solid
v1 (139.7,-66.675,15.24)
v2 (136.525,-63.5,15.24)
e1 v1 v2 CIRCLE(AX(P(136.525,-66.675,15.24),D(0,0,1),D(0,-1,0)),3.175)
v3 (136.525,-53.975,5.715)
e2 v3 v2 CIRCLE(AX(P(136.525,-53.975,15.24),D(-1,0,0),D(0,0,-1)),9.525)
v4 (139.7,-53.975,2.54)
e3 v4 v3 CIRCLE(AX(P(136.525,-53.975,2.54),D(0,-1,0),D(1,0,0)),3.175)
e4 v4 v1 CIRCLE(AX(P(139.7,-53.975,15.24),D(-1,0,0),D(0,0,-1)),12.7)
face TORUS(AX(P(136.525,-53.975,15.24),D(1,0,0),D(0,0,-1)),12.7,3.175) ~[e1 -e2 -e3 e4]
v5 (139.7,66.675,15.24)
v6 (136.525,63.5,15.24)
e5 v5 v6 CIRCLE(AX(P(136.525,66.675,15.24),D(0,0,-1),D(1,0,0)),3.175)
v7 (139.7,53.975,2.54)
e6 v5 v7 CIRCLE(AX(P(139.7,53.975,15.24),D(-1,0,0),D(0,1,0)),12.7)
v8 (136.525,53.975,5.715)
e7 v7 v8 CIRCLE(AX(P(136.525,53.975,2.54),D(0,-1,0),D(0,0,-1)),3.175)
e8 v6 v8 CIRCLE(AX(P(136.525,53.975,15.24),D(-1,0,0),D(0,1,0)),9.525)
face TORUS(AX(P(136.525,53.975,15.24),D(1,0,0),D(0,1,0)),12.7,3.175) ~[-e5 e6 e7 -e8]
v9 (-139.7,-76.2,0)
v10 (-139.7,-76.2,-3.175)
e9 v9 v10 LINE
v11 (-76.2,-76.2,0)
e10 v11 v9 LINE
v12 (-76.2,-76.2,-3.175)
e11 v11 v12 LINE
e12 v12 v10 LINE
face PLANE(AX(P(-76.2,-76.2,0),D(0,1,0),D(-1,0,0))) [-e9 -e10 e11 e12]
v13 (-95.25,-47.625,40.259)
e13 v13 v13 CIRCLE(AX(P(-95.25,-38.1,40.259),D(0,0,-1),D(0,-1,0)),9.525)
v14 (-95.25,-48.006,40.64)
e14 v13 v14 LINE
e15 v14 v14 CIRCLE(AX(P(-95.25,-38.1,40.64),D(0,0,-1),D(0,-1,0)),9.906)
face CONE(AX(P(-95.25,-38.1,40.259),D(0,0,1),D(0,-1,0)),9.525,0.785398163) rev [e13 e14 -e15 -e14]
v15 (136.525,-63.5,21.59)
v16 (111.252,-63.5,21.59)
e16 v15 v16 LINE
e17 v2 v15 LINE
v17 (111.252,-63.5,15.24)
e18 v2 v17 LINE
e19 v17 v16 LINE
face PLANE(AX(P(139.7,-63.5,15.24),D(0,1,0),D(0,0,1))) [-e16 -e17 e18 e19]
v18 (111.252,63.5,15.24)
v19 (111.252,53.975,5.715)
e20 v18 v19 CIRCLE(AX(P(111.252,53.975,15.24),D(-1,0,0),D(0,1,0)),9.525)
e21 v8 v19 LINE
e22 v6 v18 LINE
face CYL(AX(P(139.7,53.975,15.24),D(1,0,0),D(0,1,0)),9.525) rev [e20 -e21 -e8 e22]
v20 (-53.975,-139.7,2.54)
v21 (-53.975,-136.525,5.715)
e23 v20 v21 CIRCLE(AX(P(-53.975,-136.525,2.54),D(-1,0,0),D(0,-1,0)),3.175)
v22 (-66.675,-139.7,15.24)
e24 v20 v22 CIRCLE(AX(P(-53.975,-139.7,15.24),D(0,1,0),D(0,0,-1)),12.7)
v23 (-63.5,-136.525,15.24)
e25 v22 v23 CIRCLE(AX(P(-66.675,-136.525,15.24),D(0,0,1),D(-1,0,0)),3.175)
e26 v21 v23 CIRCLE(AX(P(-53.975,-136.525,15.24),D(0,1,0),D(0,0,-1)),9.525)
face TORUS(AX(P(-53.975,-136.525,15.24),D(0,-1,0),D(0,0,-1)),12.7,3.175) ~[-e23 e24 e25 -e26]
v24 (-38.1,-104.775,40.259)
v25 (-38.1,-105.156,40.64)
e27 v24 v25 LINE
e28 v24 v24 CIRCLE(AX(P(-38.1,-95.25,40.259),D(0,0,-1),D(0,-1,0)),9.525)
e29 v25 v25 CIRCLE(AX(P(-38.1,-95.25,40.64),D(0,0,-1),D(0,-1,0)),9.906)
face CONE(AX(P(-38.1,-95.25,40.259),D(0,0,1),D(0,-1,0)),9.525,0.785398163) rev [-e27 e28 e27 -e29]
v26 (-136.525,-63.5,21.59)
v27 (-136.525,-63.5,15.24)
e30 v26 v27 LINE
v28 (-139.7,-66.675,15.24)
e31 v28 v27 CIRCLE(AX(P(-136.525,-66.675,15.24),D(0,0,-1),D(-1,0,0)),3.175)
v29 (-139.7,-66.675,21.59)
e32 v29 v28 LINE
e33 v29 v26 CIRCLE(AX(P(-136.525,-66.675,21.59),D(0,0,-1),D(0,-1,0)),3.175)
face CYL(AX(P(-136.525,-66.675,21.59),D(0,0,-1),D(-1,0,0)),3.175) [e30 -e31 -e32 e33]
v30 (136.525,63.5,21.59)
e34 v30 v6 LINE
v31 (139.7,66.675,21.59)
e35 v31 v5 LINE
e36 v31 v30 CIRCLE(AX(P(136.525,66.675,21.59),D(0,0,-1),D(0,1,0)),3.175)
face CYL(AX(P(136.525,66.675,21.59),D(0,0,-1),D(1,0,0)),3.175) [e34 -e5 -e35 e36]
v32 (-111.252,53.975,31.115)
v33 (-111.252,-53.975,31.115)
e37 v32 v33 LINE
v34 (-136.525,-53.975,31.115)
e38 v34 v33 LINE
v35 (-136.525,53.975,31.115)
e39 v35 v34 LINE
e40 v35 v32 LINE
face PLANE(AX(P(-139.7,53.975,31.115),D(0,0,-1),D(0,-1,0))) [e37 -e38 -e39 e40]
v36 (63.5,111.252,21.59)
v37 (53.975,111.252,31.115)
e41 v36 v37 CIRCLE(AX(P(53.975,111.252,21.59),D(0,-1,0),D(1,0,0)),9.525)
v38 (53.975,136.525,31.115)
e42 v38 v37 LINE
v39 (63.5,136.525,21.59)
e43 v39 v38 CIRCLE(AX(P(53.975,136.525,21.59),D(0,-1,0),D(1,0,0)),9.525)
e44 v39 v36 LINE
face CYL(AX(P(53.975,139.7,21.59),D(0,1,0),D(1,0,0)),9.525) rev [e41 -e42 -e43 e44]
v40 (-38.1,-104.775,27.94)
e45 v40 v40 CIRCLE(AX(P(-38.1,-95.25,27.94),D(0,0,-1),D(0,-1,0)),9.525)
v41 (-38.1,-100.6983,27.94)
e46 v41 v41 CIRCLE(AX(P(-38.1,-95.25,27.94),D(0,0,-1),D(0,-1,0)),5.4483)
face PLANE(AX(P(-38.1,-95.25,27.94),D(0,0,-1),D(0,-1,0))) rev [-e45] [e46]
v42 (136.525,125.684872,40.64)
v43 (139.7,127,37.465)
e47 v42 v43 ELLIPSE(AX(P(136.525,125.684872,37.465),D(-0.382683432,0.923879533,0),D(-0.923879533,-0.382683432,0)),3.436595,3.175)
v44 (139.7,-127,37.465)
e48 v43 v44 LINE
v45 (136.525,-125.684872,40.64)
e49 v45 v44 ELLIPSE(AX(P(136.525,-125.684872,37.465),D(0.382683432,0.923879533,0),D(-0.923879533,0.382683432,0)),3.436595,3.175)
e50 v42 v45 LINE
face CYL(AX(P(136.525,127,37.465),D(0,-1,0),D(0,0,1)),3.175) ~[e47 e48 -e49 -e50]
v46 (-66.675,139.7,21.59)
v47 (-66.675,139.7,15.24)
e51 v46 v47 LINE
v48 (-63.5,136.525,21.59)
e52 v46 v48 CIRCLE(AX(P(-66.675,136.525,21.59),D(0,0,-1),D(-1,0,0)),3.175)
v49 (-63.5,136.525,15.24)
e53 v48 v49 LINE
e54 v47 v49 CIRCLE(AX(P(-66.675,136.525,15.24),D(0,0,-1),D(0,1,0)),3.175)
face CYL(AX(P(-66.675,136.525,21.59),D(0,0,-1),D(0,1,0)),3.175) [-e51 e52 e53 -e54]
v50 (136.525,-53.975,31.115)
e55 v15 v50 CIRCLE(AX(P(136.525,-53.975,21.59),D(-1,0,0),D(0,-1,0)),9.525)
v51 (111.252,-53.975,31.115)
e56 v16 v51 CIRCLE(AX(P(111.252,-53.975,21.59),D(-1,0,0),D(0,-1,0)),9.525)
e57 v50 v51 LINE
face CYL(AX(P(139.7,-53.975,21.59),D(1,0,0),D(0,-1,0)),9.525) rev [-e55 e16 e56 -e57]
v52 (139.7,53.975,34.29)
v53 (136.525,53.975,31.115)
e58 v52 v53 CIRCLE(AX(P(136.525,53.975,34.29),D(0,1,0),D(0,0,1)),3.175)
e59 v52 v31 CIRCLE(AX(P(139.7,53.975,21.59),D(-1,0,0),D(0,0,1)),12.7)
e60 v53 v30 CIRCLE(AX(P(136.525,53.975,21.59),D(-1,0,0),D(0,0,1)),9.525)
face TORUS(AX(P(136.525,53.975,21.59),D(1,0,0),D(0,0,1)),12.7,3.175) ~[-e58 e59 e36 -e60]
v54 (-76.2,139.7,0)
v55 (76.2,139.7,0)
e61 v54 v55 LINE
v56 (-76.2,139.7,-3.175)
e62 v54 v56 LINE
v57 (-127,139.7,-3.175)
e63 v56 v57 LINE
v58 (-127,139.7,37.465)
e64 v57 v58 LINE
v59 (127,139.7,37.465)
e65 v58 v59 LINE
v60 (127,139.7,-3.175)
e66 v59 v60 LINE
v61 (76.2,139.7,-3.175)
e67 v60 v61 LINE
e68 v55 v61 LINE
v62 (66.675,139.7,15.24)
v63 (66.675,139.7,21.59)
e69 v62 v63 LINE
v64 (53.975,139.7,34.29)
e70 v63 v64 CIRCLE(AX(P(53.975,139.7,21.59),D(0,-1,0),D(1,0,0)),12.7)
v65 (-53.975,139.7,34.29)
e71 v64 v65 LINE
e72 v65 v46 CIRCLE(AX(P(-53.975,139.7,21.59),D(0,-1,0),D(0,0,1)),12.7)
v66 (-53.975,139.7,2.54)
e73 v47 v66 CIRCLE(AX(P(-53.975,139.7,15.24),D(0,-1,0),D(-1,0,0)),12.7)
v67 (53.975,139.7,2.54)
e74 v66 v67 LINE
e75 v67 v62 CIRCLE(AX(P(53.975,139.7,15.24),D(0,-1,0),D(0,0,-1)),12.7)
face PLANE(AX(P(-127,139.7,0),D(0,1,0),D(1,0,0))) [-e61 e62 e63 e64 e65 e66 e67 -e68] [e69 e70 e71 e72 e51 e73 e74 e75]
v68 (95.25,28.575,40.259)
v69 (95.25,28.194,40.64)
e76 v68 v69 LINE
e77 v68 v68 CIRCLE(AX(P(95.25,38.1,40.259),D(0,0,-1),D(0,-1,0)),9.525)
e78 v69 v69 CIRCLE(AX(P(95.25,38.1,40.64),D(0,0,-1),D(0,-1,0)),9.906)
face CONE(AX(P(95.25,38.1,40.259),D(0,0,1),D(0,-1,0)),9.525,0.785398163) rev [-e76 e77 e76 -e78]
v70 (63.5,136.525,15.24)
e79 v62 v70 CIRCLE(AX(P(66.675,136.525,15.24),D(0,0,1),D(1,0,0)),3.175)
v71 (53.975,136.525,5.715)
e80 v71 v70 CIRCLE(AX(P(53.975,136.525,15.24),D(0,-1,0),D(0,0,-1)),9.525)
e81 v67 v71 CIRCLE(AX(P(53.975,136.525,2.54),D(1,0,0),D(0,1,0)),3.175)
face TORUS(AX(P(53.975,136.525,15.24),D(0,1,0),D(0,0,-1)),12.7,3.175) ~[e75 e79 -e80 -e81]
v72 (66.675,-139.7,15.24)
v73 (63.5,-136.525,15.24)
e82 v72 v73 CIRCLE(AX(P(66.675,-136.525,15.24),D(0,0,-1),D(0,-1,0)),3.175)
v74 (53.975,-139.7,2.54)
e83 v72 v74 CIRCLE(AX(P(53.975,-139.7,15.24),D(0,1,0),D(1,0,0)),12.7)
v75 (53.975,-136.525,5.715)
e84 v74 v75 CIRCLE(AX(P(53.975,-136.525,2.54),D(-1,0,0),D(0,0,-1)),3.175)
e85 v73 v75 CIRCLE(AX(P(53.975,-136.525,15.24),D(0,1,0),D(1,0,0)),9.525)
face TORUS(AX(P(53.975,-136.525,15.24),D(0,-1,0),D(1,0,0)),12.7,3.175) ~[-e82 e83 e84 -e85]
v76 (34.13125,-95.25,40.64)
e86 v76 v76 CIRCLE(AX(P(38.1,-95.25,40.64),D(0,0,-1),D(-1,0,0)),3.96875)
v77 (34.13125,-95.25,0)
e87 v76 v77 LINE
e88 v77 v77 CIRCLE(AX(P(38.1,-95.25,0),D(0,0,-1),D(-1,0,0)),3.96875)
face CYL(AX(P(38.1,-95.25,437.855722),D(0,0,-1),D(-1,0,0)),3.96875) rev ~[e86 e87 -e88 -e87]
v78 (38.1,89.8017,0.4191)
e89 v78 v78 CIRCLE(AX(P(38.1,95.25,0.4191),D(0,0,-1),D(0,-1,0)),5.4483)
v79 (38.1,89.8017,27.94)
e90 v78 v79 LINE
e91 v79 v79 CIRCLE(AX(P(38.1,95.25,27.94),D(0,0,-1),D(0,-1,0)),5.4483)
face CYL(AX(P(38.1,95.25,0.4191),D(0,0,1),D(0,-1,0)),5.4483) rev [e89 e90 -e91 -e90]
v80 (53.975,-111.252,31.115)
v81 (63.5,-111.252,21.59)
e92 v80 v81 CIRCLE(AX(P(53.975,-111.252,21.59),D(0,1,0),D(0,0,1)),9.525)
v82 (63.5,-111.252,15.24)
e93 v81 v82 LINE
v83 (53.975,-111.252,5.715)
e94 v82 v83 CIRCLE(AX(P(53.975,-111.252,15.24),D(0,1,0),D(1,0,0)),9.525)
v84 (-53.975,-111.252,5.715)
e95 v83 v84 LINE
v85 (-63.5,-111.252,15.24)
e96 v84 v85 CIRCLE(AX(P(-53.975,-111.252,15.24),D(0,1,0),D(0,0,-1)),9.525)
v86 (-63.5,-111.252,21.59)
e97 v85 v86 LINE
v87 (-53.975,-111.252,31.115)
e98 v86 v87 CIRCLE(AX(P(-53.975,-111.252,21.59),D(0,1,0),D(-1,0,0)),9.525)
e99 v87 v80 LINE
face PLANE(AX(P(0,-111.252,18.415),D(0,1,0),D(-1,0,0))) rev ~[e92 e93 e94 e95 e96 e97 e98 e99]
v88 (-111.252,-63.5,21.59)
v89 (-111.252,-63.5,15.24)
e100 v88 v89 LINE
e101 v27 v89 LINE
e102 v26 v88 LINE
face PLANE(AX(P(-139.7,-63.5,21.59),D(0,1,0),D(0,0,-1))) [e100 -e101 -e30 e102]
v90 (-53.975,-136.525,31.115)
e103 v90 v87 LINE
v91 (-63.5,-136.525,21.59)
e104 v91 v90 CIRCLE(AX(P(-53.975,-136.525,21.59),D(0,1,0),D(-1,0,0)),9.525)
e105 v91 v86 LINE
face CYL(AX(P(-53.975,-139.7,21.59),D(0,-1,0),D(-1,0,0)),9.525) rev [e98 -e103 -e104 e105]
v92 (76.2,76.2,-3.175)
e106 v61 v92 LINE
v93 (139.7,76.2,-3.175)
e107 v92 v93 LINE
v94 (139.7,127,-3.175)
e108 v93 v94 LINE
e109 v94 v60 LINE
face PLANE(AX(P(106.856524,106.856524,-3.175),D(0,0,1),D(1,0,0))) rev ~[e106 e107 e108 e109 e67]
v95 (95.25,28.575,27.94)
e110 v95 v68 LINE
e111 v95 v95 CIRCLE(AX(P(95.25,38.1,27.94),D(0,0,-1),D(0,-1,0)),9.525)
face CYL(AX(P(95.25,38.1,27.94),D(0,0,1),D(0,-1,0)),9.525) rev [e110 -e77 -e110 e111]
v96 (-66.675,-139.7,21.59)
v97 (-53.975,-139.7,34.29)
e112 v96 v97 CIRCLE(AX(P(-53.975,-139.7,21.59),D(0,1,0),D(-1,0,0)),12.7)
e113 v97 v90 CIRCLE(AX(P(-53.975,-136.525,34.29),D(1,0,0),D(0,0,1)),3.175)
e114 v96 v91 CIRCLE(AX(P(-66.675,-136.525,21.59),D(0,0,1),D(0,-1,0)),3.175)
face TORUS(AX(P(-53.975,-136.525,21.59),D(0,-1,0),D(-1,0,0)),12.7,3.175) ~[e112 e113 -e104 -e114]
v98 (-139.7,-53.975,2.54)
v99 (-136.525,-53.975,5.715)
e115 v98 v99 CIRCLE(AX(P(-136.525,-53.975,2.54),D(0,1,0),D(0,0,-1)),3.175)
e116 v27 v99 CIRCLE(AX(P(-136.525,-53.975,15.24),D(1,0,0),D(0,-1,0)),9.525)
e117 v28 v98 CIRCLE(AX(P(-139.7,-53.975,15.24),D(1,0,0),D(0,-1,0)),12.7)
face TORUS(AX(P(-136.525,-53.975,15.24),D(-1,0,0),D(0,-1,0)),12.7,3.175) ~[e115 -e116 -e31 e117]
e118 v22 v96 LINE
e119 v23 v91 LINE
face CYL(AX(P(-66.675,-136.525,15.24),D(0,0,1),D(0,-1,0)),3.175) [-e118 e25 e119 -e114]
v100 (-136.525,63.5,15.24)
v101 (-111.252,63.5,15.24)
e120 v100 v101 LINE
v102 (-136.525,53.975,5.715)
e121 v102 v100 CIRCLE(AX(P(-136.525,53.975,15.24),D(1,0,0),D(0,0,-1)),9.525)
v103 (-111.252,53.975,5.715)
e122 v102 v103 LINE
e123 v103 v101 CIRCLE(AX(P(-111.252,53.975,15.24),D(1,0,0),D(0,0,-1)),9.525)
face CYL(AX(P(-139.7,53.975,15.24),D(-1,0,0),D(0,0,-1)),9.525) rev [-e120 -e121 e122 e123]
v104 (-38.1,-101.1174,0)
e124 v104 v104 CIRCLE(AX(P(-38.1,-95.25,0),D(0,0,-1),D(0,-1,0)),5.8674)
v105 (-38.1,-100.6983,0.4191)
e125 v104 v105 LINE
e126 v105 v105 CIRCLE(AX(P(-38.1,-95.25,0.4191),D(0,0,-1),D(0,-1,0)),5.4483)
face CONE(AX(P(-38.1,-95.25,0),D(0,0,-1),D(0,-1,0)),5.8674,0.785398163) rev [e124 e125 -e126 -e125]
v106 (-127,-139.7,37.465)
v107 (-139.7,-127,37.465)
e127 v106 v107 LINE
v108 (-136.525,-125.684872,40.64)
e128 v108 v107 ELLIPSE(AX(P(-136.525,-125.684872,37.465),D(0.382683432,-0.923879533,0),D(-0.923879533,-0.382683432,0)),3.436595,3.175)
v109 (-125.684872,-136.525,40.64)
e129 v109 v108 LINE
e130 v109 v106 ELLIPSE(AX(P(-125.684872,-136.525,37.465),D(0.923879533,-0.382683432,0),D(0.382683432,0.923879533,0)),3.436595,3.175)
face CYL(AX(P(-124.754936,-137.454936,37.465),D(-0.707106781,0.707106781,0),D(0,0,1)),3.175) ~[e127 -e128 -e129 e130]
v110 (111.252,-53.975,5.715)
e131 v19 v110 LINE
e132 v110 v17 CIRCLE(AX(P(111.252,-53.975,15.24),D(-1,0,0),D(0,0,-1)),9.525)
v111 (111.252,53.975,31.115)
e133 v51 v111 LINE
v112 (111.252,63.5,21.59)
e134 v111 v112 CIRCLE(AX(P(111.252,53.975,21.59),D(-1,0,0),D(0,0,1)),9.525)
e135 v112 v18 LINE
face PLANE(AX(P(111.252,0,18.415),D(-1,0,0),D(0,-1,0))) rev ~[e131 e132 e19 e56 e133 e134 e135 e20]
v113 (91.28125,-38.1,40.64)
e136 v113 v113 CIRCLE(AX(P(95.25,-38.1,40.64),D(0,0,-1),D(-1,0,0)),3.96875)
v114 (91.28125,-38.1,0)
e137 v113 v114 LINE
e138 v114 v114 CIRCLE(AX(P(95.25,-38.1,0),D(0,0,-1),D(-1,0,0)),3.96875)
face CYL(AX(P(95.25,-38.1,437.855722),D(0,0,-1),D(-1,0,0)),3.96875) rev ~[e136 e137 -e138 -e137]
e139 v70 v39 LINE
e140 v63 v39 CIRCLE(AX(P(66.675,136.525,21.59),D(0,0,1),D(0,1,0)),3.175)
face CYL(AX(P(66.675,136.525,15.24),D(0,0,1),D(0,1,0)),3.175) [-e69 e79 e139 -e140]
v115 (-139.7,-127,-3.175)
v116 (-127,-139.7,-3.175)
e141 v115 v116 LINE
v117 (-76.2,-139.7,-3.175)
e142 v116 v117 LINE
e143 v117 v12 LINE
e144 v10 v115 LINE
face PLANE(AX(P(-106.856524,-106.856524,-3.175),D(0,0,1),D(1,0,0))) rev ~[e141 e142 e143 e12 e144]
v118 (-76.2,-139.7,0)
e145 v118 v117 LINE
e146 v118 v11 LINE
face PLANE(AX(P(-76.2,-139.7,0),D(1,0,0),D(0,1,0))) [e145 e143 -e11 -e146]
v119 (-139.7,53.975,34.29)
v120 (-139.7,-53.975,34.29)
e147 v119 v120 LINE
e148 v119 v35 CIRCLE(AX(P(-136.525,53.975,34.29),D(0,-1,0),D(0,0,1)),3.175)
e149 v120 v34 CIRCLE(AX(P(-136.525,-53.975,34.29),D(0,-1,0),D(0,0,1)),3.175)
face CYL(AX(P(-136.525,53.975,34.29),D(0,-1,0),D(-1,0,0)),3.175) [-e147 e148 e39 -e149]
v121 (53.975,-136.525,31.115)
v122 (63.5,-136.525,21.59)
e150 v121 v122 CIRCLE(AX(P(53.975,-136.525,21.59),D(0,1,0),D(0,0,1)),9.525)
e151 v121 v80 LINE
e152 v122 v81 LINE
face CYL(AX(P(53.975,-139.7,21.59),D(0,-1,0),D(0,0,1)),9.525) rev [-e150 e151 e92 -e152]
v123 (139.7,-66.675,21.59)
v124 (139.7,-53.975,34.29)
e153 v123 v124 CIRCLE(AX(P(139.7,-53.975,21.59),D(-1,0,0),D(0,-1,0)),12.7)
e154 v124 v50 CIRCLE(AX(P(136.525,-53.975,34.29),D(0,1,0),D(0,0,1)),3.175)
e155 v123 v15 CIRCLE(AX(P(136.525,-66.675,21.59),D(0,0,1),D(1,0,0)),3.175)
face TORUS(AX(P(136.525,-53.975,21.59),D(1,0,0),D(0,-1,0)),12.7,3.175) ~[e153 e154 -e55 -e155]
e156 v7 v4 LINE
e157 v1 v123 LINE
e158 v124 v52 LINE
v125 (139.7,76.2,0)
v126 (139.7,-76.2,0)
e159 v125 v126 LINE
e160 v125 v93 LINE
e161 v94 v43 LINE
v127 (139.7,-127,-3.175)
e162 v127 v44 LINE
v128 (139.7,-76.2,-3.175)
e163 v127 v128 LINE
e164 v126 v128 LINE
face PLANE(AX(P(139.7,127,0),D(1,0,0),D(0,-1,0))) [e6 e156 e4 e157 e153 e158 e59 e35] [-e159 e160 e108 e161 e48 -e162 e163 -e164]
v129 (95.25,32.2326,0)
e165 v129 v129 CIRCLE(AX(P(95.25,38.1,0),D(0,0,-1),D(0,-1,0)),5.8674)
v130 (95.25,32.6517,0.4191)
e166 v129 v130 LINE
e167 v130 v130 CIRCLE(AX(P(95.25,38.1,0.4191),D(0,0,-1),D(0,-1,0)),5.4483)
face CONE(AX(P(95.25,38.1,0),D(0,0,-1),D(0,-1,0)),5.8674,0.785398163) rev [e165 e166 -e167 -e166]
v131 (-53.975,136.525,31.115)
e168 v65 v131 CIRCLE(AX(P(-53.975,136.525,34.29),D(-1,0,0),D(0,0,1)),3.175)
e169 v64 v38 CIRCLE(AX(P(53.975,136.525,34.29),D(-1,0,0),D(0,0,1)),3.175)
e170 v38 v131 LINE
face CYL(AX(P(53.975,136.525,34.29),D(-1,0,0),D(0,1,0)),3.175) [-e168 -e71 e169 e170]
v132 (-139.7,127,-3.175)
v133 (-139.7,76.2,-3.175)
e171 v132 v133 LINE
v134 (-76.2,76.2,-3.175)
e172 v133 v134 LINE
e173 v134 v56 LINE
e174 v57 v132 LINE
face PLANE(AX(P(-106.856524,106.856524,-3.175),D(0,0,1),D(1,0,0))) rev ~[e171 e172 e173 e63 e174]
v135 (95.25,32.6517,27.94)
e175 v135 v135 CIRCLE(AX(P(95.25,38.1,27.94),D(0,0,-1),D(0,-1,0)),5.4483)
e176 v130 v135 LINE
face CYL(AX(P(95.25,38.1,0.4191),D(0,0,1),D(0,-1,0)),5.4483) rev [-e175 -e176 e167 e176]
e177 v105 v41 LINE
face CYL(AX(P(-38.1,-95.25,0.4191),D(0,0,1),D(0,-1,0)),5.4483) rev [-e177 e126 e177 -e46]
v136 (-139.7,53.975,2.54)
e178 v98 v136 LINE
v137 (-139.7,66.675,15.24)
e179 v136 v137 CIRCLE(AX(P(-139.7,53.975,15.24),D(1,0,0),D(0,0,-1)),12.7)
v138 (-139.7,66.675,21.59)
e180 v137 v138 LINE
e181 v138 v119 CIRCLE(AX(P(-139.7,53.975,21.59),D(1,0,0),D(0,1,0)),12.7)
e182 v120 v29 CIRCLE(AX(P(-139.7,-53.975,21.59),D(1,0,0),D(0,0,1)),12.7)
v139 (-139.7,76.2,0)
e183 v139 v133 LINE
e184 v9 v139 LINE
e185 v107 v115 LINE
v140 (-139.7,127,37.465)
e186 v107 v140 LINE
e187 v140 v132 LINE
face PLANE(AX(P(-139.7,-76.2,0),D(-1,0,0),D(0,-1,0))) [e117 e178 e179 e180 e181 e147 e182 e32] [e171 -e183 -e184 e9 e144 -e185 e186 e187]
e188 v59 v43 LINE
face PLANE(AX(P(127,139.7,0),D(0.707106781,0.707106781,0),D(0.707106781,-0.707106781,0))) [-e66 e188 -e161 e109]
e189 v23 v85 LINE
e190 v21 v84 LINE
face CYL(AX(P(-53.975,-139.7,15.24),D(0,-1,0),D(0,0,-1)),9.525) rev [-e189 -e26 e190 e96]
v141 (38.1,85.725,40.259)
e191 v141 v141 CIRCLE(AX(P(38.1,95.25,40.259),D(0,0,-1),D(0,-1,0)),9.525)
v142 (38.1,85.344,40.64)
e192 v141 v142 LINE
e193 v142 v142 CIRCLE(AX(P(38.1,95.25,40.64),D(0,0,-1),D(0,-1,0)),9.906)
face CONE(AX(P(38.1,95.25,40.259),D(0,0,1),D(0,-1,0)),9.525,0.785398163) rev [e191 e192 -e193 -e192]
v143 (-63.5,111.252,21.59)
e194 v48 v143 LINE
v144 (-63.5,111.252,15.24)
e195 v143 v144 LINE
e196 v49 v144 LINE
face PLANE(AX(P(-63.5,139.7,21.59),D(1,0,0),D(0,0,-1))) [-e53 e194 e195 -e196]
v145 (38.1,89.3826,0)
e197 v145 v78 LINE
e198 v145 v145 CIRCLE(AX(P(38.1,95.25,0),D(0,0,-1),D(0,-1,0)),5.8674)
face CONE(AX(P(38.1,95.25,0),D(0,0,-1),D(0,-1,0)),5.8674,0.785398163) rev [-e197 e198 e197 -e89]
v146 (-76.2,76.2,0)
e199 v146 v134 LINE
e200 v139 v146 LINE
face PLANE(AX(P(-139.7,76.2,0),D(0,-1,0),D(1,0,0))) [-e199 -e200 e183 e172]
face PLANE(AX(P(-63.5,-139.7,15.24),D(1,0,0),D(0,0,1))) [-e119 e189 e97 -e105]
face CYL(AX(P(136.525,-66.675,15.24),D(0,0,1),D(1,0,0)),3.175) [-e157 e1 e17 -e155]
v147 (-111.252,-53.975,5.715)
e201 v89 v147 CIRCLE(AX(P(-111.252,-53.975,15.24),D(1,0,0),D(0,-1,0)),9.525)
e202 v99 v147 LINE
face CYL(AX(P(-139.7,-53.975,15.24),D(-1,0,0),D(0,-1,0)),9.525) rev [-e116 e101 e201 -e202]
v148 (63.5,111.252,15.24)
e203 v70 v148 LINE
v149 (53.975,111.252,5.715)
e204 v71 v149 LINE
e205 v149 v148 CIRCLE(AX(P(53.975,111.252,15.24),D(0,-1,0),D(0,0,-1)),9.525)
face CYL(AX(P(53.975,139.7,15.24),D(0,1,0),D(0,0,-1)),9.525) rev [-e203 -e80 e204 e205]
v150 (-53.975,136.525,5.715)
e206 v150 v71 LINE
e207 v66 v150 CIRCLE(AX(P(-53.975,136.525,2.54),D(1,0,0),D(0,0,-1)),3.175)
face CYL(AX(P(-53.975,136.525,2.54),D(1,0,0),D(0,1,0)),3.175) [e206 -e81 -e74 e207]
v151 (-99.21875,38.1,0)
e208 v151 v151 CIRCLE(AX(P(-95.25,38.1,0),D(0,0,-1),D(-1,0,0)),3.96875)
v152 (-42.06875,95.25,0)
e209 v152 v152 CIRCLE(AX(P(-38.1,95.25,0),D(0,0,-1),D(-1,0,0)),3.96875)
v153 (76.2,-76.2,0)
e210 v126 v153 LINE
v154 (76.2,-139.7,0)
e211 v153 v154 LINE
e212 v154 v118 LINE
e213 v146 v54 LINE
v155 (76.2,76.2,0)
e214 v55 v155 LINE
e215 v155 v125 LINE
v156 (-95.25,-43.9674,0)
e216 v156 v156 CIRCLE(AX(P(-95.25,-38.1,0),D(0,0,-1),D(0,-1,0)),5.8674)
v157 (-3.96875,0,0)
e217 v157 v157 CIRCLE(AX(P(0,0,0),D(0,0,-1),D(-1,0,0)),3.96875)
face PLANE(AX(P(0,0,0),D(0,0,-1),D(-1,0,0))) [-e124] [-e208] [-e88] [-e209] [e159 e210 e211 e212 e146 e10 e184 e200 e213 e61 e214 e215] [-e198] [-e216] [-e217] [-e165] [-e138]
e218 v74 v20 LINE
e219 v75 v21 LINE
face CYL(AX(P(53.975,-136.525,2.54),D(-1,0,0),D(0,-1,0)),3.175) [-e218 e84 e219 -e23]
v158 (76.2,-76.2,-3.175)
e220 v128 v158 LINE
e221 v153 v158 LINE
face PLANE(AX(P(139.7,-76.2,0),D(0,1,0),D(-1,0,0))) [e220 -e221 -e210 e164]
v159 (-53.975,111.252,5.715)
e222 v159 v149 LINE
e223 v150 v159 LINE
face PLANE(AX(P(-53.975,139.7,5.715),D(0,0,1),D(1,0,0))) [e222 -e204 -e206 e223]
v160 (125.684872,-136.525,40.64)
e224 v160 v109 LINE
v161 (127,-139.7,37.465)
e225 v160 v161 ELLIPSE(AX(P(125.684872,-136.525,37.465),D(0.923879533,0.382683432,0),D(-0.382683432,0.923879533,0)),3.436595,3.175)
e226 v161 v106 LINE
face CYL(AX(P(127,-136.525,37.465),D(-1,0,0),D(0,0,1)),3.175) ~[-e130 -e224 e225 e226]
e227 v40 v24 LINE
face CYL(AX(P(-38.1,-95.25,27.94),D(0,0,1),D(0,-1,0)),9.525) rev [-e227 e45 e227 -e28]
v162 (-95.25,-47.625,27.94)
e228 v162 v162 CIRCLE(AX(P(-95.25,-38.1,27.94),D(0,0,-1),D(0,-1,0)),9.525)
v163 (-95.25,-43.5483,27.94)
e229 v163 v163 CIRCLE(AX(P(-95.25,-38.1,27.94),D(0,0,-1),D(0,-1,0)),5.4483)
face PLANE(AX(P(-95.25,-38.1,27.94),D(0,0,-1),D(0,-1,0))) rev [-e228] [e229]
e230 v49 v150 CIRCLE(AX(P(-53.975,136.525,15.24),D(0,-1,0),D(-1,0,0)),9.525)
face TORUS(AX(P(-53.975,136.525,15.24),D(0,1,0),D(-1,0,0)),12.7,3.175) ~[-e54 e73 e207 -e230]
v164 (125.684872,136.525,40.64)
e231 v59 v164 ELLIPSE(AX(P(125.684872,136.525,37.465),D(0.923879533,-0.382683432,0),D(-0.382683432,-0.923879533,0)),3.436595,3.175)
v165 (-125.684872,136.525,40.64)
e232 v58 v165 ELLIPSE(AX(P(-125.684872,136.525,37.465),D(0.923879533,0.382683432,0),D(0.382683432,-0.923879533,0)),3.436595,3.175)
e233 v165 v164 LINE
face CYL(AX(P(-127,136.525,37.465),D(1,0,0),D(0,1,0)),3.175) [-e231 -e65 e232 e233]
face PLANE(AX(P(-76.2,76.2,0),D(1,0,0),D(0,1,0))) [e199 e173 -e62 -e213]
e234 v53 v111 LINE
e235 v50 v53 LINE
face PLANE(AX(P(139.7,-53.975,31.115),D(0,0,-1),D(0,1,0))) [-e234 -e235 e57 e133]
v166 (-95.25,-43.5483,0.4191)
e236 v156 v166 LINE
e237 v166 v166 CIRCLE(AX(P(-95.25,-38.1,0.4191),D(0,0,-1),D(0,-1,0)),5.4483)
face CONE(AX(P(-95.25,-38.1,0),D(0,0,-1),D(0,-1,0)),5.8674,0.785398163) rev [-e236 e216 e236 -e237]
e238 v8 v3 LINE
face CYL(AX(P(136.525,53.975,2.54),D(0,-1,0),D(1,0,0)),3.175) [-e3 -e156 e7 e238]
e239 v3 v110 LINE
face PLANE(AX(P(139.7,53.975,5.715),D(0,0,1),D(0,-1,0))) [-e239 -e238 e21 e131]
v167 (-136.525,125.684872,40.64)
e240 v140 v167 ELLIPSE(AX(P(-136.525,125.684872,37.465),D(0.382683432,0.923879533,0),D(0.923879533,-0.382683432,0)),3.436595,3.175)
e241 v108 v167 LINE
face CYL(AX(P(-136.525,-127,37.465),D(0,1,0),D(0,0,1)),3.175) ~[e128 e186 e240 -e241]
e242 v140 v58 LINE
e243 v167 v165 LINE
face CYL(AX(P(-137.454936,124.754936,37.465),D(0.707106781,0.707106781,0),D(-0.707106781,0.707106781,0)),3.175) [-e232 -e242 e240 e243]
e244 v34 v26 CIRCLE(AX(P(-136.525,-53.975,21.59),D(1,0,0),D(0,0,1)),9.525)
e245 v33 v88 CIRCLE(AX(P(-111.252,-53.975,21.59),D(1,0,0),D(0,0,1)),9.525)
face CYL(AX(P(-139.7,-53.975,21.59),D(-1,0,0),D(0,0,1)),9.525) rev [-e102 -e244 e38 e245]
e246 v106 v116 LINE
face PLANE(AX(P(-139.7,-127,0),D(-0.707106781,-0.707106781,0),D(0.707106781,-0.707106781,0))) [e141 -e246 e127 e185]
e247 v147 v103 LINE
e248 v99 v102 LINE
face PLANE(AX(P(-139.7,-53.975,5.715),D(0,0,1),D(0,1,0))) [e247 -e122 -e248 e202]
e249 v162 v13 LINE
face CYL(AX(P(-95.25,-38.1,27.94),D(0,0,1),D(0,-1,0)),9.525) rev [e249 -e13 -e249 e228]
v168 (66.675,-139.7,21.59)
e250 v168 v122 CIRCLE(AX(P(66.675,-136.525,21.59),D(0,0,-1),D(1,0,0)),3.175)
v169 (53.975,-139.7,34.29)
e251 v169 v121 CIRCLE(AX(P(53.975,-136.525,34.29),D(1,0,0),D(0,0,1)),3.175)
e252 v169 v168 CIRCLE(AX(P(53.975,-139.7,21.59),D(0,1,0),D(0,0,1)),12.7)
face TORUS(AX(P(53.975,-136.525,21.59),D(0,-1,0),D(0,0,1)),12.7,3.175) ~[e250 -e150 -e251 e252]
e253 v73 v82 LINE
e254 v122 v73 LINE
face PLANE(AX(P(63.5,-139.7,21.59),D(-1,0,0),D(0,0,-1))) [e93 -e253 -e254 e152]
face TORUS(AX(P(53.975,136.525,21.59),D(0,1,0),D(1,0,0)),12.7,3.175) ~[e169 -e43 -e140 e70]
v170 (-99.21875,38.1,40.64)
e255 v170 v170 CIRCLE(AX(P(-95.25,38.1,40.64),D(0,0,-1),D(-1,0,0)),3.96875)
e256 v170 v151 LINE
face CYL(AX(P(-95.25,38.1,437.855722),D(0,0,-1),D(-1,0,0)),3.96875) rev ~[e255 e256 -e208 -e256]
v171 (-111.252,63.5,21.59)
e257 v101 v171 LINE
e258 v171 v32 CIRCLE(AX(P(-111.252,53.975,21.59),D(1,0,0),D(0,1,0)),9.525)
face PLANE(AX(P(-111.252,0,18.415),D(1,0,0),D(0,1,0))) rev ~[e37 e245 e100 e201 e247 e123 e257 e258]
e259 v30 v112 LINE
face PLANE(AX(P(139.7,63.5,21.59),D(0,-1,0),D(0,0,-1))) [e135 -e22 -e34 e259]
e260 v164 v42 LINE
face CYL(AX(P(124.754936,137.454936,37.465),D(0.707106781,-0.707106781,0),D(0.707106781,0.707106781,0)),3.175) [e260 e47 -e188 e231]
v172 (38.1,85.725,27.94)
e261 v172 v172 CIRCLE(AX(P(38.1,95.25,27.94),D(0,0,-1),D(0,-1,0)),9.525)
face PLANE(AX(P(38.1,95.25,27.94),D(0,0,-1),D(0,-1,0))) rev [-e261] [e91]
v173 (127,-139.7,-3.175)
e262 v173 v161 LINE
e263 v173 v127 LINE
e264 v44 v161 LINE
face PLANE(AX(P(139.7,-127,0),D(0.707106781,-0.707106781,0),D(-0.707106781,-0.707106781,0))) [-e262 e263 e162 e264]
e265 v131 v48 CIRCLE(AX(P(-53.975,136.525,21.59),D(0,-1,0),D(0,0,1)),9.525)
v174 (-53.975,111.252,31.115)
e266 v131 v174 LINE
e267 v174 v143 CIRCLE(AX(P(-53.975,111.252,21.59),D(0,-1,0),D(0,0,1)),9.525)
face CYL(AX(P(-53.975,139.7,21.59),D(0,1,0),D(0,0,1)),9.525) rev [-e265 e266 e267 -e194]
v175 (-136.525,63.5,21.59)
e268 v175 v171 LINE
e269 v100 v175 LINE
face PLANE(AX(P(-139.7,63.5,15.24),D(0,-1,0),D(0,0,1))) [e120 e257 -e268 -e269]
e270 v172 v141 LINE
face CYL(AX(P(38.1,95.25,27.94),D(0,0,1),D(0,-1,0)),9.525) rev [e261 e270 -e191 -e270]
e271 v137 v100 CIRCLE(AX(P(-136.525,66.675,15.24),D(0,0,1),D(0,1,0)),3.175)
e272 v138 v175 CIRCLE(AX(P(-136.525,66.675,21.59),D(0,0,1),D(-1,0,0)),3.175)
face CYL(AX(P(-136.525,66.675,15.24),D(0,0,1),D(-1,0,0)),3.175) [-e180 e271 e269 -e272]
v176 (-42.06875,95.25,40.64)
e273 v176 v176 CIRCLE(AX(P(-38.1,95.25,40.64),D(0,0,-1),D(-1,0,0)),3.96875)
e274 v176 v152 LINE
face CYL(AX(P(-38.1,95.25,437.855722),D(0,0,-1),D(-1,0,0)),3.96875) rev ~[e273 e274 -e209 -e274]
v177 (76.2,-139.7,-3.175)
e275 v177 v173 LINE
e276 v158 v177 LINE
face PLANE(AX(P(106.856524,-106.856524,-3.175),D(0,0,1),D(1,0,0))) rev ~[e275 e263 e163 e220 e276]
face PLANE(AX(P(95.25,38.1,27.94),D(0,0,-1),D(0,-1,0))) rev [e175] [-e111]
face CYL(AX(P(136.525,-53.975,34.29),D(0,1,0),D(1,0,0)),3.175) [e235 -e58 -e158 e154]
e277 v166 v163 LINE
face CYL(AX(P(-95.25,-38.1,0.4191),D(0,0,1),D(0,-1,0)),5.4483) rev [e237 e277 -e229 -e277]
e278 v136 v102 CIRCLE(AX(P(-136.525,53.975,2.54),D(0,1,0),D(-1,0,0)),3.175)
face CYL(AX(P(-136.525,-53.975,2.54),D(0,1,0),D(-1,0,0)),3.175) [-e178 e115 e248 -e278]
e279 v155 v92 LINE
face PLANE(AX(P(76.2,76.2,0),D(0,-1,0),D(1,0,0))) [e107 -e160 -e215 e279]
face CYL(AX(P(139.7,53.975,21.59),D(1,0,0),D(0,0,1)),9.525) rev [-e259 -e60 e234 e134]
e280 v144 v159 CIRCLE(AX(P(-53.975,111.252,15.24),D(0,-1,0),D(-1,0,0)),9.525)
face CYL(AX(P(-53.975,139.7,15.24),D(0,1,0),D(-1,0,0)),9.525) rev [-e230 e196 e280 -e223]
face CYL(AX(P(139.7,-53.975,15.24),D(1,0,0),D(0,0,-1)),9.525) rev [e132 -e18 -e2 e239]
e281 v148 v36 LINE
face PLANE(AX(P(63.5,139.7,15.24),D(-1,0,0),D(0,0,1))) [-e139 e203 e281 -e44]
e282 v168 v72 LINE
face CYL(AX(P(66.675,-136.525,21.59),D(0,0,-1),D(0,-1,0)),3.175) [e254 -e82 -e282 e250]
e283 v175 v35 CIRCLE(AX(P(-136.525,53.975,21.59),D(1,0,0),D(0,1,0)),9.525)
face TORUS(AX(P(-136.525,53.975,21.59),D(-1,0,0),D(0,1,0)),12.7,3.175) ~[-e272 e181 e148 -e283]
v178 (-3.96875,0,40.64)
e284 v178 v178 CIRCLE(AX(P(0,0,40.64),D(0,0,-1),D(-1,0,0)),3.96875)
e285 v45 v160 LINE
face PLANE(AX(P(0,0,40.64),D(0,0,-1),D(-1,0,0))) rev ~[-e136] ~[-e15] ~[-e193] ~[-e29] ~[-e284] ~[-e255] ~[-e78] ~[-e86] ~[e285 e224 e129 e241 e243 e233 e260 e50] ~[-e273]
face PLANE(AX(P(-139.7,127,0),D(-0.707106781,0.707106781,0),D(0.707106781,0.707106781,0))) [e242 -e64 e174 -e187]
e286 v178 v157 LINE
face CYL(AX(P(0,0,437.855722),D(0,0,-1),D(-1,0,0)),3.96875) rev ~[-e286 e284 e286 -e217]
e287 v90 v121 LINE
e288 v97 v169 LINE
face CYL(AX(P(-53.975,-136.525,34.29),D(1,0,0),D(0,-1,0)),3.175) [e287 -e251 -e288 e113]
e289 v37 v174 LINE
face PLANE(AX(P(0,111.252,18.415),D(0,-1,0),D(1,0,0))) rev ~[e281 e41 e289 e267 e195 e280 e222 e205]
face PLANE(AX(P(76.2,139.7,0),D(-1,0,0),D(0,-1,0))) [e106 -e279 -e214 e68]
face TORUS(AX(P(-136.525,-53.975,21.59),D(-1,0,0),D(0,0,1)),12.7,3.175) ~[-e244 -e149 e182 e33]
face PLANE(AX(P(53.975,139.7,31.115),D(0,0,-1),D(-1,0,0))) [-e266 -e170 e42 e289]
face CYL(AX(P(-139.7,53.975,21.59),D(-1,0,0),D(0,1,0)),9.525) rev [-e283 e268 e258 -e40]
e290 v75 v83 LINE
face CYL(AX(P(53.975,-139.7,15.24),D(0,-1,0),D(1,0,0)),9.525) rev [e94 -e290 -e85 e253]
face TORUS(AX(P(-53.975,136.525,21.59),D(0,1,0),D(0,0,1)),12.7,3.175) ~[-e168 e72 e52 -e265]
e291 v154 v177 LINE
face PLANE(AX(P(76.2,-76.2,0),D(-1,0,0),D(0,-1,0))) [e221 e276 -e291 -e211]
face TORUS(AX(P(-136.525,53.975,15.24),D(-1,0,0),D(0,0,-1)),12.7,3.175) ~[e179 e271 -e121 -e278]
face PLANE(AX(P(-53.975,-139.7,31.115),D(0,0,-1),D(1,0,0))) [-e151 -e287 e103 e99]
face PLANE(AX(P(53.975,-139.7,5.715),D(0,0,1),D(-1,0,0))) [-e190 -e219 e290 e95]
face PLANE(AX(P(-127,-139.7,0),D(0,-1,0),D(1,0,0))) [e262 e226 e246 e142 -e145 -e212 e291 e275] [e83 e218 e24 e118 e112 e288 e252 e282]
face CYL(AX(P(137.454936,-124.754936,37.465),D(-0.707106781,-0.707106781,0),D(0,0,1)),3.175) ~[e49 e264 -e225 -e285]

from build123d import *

# Parameters (mm, degrees)
BOSS_EXTRUDE1_DEPTH                           = 40.64
F_3_8_16_TAPPED_HOLE1_D                       = 7.9375
CBORE_FOR_3_8_SOCKET_HEAD_CAP_SCREW1_AT_COUNT = 2
CBORE_FOR_3_8_SOCKET_HEAD_CAP_SCREW1_AT_PITCH = 188.585378542
CBORE_FOR_3_8_SOCKET_HEAD_CAP_SCREW1_2_COUNT  = 2
CBORE_FOR_3_8_SOCKET_HEAD_CAP_SCREW1_2_PITCH  = 80.82230509
CBORE_FOR_3_8_SOCKET_HEAD_CAP_SCREW1_3_COUNT  = 2
CBORE_FOR_3_8_SOCKET_HEAD_CAP_SCREW1_3_PITCH  = 205.174779152
FILLET1_R                                     = 3.175
CUT_EXTRUDE2_DEPTH                            = 28.448
FILLET2_R                                     = 3.175
CIRPATTERN1_COUNT                             = 4
FILLET2_OF_CIRPATTERN1_R                      = 3.175
BOSS_EXTRUDE2_DEPTH                           = 3.175


with BuildPart() as part:
    # Sketch1 → Boss-Extrude1 (new body)
    with BuildSketch(Plane.XY):
        Polygon((-127, 139.7), (127, 139.7), (139.7, 127), (139.7, -127), (127, -139.7), (-127, -139.7), (-139.7, -127), (-139.7, 127), align=None)
    extrude(amount=BOSS_EXTRUDE1_DEPTH)

    # 3_8-16 Tapped Hole1 (through all)
    with Locations(Plane.XY.offset(40.64)):
        with Locations((-95.25, 38.1), (-38.1, 95.25), (38.1, -95.25), (95.25, -38.1), (0, 0)):
            Hole(F_3_8_16_TAPPED_HOLE1_D / 2)

    # Sketch7 → CBORE for 3_8 Socket Head Cap Screw1 (revolve, cut)
    with BuildSketch(Plane(origin=(-95.25, -38.1, 40.64), x_dir=(0, -1, 0), z_dir=(1, 0, 0))):
        Polygon((0, 0), (0, 40.64), (5.8674, 40.64), (5.4483, 40.2209), (5.4483, 12.7), (9.525, 12.7), (9.525, 0.381), (9.906, 0), align=None)
    cbore_for_3_8_socket_head_cap_screw1 = revolve(axis=Axis((-95.25, -38.1, 46.99), (0, 0, -1)), mode=Mode.SUBTRACT)

    # CBORE for 3_8 Socket Head Cap Screw1 at: CBORE for 3_8 Socket Head Cap Screw1 ×2
    with Locations(*[Vector(0.707106781, 0.707106781, 0) * (i * CBORE_FOR_3_8_SOCKET_HEAD_CAP_SCREW1_AT_PITCH) for i in range(1, CBORE_FOR_3_8_SOCKET_HEAD_CAP_SCREW1_AT_COUNT)]):
        add(cbore_for_3_8_socket_head_cap_screw1, mode=Mode.SUBTRACT)

    # CBORE for 3_8 Socket Head Cap Screw1 2: CBORE for 3_8 Socket Head Cap Screw1 ×2
    with Locations(*[Vector(0.707106781, -0.707106781, 0) * (i * CBORE_FOR_3_8_SOCKET_HEAD_CAP_SCREW1_2_PITCH) for i in range(1, CBORE_FOR_3_8_SOCKET_HEAD_CAP_SCREW1_2_COUNT)]):
        add(cbore_for_3_8_socket_head_cap_screw1, mode=Mode.SUBTRACT)

    # CBORE for 3_8 Socket Head Cap Screw1 3: CBORE for 3_8 Socket Head Cap Screw1 ×2
    with Locations(*[Vector(0.928476691, 0.371390676, 0) * (i * CBORE_FOR_3_8_SOCKET_HEAD_CAP_SCREW1_3_PITCH) for i in range(1, CBORE_FOR_3_8_SOCKET_HEAD_CAP_SCREW1_3_COUNT)]):
        add(cbore_for_3_8_socket_head_cap_screw1, mode=Mode.SUBTRACT)

    # Fillet1
    fillet1_edges = [part.edges().sort_by_distance(p)[0] for p in [
        (-133.35, -133.35, 40.64),
        (0, -139.7, 40.64),
        (133.35, -133.35, 40.64),
        (139.7, 0, 40.64),
        (133.35, 133.35, 40.64),
        (0, 139.7, 40.64),
        (-133.35, 133.35, 40.64),
        (-139.7, 0, 40.64),
    ]]
    fillet(fillet1_edges, radius=FILLET1_R)

    # Sketch9 → Cut-Extrude2 (cut)
    with BuildSketch(Plane.XZ.offset(139.7)):
        with BuildLine():
            Line((-53.975, 31.115), (53.975, 31.115))
            ThreePointArc((53.975, 31.115), (60.710192091, 28.325192091), (63.5, 21.59))
            Line((63.5, 21.59), (63.5, 15.24))
            ThreePointArc((63.5, 15.24), (60.710192091, 8.504807909), (53.975, 5.715))
            Line((53.975, 5.715), (-53.975, 5.715))
            ThreePointArc((-53.975, 5.715), (-60.710192091, 8.504807909), (-63.5, 15.24))
            Line((-63.5, 15.24), (-63.5, 21.59))
            ThreePointArc((-63.5, 21.59), (-60.710192091, 28.325192091), (-53.975, 31.115))
        make_face()
    cut_extrude2 = extrude(amount=-CUT_EXTRUDE2_DEPTH, mode=Mode.SUBTRACT)

    # Fillet2
    fillet2_edges = [part.edges().sort_by_distance(p)[0] for p in [
        (60.710192091, -139.7, 28.325192091),
        (0, -139.7, 31.115),
        (-60.710192091, -139.7, 28.325192091),
        (-63.5, -139.7, 18.415),
        (-60.710192091, -139.7, 8.504807909),
        (0, -139.7, 5.715),
        (60.710192091, -139.7, 8.504807909),
        (63.5, -139.7, 18.415),
    ]]
    fillet(fillet2_edges, radius=FILLET2_R)

    # CirPattern1: Cut-Extrude2 ×4 about axis
    cirpattern1_axis = Axis((0, 0, 0), (0, 0, 1))
    for i in range(1, CIRPATTERN1_COUNT):
        add(cut_extrude2.rotate(cirpattern1_axis, i * 360 / CIRPATTERN1_COUNT), mode=Mode.SUBTRACT)

    # Fillet2 of CirPattern1
    fillet2_of_cirpattern1_edges = [part.edges().sort_by_distance(p)[0] for p in [
        (139.7, 60.710192091, 28.325192091),
        (139.7, 0, 31.115),
        (139.7, -60.710192091, 28.325192091),
        (139.7, -63.5, 18.415),
        (139.7, -60.710192091, 8.504807909),
        (139.7, 0, 5.715),
        (139.7, 60.710192091, 8.504807909),
        (139.7, 63.5, 18.415),
        (-60.710192091, 139.7, 28.325192091),
        (0, 139.7, 31.115),
        (60.710192091, 139.7, 28.325192091),
        (63.5, 139.7, 18.415),
        (60.710192091, 139.7, 8.504807909),
        (0, 139.7, 5.715),
        (-60.710192091, 139.7, 8.504807909),
        (-63.5, 139.7, 18.415),
        (-139.7, -60.710192091, 28.325192091),
        (-139.7, 0, 31.115),
        (-139.7, 60.710192091, 28.325192091),
        (-139.7, 63.5, 18.415),
        (-139.7, 60.710192091, 8.504807909),
        (-139.7, 0, 5.715),
        (-139.7, -60.710192091, 8.504807909),
        (-139.7, -63.5, 18.415),
    ]]
    fillet(fillet2_of_cirpattern1_edges, radius=FILLET2_OF_CIRPATTERN1_R)

    # Sketch2 → Boss-Extrude2 (add)
    with BuildSketch(Plane(origin=(0, 0, 0), x_dir=(-1, 0, 0), z_dir=(0, 0, -1))):
        Polygon((127, -139.7), (76.2, -139.7), (76.2, -76.2), (139.7, -76.2), (139.7, -127), align=None)
        Polygon((-76.2, -139.7), (-127, -139.7), (-139.7, -127), (-139.7, -76.2), (-76.2, -76.2), align=None)
        Polygon((139.7, 76.2), (76.2, 76.2), (76.2, 139.7), (127, 139.7), (139.7, 127), align=None)
        Polygon((-127, 139.7), (-76.2, 139.7), (-76.2, 76.2), (-139.7, 76.2), (-139.7, 127), align=None)
    extrude(amount=BOSS_EXTRUDE2_DEPTH)


solid = part.part
